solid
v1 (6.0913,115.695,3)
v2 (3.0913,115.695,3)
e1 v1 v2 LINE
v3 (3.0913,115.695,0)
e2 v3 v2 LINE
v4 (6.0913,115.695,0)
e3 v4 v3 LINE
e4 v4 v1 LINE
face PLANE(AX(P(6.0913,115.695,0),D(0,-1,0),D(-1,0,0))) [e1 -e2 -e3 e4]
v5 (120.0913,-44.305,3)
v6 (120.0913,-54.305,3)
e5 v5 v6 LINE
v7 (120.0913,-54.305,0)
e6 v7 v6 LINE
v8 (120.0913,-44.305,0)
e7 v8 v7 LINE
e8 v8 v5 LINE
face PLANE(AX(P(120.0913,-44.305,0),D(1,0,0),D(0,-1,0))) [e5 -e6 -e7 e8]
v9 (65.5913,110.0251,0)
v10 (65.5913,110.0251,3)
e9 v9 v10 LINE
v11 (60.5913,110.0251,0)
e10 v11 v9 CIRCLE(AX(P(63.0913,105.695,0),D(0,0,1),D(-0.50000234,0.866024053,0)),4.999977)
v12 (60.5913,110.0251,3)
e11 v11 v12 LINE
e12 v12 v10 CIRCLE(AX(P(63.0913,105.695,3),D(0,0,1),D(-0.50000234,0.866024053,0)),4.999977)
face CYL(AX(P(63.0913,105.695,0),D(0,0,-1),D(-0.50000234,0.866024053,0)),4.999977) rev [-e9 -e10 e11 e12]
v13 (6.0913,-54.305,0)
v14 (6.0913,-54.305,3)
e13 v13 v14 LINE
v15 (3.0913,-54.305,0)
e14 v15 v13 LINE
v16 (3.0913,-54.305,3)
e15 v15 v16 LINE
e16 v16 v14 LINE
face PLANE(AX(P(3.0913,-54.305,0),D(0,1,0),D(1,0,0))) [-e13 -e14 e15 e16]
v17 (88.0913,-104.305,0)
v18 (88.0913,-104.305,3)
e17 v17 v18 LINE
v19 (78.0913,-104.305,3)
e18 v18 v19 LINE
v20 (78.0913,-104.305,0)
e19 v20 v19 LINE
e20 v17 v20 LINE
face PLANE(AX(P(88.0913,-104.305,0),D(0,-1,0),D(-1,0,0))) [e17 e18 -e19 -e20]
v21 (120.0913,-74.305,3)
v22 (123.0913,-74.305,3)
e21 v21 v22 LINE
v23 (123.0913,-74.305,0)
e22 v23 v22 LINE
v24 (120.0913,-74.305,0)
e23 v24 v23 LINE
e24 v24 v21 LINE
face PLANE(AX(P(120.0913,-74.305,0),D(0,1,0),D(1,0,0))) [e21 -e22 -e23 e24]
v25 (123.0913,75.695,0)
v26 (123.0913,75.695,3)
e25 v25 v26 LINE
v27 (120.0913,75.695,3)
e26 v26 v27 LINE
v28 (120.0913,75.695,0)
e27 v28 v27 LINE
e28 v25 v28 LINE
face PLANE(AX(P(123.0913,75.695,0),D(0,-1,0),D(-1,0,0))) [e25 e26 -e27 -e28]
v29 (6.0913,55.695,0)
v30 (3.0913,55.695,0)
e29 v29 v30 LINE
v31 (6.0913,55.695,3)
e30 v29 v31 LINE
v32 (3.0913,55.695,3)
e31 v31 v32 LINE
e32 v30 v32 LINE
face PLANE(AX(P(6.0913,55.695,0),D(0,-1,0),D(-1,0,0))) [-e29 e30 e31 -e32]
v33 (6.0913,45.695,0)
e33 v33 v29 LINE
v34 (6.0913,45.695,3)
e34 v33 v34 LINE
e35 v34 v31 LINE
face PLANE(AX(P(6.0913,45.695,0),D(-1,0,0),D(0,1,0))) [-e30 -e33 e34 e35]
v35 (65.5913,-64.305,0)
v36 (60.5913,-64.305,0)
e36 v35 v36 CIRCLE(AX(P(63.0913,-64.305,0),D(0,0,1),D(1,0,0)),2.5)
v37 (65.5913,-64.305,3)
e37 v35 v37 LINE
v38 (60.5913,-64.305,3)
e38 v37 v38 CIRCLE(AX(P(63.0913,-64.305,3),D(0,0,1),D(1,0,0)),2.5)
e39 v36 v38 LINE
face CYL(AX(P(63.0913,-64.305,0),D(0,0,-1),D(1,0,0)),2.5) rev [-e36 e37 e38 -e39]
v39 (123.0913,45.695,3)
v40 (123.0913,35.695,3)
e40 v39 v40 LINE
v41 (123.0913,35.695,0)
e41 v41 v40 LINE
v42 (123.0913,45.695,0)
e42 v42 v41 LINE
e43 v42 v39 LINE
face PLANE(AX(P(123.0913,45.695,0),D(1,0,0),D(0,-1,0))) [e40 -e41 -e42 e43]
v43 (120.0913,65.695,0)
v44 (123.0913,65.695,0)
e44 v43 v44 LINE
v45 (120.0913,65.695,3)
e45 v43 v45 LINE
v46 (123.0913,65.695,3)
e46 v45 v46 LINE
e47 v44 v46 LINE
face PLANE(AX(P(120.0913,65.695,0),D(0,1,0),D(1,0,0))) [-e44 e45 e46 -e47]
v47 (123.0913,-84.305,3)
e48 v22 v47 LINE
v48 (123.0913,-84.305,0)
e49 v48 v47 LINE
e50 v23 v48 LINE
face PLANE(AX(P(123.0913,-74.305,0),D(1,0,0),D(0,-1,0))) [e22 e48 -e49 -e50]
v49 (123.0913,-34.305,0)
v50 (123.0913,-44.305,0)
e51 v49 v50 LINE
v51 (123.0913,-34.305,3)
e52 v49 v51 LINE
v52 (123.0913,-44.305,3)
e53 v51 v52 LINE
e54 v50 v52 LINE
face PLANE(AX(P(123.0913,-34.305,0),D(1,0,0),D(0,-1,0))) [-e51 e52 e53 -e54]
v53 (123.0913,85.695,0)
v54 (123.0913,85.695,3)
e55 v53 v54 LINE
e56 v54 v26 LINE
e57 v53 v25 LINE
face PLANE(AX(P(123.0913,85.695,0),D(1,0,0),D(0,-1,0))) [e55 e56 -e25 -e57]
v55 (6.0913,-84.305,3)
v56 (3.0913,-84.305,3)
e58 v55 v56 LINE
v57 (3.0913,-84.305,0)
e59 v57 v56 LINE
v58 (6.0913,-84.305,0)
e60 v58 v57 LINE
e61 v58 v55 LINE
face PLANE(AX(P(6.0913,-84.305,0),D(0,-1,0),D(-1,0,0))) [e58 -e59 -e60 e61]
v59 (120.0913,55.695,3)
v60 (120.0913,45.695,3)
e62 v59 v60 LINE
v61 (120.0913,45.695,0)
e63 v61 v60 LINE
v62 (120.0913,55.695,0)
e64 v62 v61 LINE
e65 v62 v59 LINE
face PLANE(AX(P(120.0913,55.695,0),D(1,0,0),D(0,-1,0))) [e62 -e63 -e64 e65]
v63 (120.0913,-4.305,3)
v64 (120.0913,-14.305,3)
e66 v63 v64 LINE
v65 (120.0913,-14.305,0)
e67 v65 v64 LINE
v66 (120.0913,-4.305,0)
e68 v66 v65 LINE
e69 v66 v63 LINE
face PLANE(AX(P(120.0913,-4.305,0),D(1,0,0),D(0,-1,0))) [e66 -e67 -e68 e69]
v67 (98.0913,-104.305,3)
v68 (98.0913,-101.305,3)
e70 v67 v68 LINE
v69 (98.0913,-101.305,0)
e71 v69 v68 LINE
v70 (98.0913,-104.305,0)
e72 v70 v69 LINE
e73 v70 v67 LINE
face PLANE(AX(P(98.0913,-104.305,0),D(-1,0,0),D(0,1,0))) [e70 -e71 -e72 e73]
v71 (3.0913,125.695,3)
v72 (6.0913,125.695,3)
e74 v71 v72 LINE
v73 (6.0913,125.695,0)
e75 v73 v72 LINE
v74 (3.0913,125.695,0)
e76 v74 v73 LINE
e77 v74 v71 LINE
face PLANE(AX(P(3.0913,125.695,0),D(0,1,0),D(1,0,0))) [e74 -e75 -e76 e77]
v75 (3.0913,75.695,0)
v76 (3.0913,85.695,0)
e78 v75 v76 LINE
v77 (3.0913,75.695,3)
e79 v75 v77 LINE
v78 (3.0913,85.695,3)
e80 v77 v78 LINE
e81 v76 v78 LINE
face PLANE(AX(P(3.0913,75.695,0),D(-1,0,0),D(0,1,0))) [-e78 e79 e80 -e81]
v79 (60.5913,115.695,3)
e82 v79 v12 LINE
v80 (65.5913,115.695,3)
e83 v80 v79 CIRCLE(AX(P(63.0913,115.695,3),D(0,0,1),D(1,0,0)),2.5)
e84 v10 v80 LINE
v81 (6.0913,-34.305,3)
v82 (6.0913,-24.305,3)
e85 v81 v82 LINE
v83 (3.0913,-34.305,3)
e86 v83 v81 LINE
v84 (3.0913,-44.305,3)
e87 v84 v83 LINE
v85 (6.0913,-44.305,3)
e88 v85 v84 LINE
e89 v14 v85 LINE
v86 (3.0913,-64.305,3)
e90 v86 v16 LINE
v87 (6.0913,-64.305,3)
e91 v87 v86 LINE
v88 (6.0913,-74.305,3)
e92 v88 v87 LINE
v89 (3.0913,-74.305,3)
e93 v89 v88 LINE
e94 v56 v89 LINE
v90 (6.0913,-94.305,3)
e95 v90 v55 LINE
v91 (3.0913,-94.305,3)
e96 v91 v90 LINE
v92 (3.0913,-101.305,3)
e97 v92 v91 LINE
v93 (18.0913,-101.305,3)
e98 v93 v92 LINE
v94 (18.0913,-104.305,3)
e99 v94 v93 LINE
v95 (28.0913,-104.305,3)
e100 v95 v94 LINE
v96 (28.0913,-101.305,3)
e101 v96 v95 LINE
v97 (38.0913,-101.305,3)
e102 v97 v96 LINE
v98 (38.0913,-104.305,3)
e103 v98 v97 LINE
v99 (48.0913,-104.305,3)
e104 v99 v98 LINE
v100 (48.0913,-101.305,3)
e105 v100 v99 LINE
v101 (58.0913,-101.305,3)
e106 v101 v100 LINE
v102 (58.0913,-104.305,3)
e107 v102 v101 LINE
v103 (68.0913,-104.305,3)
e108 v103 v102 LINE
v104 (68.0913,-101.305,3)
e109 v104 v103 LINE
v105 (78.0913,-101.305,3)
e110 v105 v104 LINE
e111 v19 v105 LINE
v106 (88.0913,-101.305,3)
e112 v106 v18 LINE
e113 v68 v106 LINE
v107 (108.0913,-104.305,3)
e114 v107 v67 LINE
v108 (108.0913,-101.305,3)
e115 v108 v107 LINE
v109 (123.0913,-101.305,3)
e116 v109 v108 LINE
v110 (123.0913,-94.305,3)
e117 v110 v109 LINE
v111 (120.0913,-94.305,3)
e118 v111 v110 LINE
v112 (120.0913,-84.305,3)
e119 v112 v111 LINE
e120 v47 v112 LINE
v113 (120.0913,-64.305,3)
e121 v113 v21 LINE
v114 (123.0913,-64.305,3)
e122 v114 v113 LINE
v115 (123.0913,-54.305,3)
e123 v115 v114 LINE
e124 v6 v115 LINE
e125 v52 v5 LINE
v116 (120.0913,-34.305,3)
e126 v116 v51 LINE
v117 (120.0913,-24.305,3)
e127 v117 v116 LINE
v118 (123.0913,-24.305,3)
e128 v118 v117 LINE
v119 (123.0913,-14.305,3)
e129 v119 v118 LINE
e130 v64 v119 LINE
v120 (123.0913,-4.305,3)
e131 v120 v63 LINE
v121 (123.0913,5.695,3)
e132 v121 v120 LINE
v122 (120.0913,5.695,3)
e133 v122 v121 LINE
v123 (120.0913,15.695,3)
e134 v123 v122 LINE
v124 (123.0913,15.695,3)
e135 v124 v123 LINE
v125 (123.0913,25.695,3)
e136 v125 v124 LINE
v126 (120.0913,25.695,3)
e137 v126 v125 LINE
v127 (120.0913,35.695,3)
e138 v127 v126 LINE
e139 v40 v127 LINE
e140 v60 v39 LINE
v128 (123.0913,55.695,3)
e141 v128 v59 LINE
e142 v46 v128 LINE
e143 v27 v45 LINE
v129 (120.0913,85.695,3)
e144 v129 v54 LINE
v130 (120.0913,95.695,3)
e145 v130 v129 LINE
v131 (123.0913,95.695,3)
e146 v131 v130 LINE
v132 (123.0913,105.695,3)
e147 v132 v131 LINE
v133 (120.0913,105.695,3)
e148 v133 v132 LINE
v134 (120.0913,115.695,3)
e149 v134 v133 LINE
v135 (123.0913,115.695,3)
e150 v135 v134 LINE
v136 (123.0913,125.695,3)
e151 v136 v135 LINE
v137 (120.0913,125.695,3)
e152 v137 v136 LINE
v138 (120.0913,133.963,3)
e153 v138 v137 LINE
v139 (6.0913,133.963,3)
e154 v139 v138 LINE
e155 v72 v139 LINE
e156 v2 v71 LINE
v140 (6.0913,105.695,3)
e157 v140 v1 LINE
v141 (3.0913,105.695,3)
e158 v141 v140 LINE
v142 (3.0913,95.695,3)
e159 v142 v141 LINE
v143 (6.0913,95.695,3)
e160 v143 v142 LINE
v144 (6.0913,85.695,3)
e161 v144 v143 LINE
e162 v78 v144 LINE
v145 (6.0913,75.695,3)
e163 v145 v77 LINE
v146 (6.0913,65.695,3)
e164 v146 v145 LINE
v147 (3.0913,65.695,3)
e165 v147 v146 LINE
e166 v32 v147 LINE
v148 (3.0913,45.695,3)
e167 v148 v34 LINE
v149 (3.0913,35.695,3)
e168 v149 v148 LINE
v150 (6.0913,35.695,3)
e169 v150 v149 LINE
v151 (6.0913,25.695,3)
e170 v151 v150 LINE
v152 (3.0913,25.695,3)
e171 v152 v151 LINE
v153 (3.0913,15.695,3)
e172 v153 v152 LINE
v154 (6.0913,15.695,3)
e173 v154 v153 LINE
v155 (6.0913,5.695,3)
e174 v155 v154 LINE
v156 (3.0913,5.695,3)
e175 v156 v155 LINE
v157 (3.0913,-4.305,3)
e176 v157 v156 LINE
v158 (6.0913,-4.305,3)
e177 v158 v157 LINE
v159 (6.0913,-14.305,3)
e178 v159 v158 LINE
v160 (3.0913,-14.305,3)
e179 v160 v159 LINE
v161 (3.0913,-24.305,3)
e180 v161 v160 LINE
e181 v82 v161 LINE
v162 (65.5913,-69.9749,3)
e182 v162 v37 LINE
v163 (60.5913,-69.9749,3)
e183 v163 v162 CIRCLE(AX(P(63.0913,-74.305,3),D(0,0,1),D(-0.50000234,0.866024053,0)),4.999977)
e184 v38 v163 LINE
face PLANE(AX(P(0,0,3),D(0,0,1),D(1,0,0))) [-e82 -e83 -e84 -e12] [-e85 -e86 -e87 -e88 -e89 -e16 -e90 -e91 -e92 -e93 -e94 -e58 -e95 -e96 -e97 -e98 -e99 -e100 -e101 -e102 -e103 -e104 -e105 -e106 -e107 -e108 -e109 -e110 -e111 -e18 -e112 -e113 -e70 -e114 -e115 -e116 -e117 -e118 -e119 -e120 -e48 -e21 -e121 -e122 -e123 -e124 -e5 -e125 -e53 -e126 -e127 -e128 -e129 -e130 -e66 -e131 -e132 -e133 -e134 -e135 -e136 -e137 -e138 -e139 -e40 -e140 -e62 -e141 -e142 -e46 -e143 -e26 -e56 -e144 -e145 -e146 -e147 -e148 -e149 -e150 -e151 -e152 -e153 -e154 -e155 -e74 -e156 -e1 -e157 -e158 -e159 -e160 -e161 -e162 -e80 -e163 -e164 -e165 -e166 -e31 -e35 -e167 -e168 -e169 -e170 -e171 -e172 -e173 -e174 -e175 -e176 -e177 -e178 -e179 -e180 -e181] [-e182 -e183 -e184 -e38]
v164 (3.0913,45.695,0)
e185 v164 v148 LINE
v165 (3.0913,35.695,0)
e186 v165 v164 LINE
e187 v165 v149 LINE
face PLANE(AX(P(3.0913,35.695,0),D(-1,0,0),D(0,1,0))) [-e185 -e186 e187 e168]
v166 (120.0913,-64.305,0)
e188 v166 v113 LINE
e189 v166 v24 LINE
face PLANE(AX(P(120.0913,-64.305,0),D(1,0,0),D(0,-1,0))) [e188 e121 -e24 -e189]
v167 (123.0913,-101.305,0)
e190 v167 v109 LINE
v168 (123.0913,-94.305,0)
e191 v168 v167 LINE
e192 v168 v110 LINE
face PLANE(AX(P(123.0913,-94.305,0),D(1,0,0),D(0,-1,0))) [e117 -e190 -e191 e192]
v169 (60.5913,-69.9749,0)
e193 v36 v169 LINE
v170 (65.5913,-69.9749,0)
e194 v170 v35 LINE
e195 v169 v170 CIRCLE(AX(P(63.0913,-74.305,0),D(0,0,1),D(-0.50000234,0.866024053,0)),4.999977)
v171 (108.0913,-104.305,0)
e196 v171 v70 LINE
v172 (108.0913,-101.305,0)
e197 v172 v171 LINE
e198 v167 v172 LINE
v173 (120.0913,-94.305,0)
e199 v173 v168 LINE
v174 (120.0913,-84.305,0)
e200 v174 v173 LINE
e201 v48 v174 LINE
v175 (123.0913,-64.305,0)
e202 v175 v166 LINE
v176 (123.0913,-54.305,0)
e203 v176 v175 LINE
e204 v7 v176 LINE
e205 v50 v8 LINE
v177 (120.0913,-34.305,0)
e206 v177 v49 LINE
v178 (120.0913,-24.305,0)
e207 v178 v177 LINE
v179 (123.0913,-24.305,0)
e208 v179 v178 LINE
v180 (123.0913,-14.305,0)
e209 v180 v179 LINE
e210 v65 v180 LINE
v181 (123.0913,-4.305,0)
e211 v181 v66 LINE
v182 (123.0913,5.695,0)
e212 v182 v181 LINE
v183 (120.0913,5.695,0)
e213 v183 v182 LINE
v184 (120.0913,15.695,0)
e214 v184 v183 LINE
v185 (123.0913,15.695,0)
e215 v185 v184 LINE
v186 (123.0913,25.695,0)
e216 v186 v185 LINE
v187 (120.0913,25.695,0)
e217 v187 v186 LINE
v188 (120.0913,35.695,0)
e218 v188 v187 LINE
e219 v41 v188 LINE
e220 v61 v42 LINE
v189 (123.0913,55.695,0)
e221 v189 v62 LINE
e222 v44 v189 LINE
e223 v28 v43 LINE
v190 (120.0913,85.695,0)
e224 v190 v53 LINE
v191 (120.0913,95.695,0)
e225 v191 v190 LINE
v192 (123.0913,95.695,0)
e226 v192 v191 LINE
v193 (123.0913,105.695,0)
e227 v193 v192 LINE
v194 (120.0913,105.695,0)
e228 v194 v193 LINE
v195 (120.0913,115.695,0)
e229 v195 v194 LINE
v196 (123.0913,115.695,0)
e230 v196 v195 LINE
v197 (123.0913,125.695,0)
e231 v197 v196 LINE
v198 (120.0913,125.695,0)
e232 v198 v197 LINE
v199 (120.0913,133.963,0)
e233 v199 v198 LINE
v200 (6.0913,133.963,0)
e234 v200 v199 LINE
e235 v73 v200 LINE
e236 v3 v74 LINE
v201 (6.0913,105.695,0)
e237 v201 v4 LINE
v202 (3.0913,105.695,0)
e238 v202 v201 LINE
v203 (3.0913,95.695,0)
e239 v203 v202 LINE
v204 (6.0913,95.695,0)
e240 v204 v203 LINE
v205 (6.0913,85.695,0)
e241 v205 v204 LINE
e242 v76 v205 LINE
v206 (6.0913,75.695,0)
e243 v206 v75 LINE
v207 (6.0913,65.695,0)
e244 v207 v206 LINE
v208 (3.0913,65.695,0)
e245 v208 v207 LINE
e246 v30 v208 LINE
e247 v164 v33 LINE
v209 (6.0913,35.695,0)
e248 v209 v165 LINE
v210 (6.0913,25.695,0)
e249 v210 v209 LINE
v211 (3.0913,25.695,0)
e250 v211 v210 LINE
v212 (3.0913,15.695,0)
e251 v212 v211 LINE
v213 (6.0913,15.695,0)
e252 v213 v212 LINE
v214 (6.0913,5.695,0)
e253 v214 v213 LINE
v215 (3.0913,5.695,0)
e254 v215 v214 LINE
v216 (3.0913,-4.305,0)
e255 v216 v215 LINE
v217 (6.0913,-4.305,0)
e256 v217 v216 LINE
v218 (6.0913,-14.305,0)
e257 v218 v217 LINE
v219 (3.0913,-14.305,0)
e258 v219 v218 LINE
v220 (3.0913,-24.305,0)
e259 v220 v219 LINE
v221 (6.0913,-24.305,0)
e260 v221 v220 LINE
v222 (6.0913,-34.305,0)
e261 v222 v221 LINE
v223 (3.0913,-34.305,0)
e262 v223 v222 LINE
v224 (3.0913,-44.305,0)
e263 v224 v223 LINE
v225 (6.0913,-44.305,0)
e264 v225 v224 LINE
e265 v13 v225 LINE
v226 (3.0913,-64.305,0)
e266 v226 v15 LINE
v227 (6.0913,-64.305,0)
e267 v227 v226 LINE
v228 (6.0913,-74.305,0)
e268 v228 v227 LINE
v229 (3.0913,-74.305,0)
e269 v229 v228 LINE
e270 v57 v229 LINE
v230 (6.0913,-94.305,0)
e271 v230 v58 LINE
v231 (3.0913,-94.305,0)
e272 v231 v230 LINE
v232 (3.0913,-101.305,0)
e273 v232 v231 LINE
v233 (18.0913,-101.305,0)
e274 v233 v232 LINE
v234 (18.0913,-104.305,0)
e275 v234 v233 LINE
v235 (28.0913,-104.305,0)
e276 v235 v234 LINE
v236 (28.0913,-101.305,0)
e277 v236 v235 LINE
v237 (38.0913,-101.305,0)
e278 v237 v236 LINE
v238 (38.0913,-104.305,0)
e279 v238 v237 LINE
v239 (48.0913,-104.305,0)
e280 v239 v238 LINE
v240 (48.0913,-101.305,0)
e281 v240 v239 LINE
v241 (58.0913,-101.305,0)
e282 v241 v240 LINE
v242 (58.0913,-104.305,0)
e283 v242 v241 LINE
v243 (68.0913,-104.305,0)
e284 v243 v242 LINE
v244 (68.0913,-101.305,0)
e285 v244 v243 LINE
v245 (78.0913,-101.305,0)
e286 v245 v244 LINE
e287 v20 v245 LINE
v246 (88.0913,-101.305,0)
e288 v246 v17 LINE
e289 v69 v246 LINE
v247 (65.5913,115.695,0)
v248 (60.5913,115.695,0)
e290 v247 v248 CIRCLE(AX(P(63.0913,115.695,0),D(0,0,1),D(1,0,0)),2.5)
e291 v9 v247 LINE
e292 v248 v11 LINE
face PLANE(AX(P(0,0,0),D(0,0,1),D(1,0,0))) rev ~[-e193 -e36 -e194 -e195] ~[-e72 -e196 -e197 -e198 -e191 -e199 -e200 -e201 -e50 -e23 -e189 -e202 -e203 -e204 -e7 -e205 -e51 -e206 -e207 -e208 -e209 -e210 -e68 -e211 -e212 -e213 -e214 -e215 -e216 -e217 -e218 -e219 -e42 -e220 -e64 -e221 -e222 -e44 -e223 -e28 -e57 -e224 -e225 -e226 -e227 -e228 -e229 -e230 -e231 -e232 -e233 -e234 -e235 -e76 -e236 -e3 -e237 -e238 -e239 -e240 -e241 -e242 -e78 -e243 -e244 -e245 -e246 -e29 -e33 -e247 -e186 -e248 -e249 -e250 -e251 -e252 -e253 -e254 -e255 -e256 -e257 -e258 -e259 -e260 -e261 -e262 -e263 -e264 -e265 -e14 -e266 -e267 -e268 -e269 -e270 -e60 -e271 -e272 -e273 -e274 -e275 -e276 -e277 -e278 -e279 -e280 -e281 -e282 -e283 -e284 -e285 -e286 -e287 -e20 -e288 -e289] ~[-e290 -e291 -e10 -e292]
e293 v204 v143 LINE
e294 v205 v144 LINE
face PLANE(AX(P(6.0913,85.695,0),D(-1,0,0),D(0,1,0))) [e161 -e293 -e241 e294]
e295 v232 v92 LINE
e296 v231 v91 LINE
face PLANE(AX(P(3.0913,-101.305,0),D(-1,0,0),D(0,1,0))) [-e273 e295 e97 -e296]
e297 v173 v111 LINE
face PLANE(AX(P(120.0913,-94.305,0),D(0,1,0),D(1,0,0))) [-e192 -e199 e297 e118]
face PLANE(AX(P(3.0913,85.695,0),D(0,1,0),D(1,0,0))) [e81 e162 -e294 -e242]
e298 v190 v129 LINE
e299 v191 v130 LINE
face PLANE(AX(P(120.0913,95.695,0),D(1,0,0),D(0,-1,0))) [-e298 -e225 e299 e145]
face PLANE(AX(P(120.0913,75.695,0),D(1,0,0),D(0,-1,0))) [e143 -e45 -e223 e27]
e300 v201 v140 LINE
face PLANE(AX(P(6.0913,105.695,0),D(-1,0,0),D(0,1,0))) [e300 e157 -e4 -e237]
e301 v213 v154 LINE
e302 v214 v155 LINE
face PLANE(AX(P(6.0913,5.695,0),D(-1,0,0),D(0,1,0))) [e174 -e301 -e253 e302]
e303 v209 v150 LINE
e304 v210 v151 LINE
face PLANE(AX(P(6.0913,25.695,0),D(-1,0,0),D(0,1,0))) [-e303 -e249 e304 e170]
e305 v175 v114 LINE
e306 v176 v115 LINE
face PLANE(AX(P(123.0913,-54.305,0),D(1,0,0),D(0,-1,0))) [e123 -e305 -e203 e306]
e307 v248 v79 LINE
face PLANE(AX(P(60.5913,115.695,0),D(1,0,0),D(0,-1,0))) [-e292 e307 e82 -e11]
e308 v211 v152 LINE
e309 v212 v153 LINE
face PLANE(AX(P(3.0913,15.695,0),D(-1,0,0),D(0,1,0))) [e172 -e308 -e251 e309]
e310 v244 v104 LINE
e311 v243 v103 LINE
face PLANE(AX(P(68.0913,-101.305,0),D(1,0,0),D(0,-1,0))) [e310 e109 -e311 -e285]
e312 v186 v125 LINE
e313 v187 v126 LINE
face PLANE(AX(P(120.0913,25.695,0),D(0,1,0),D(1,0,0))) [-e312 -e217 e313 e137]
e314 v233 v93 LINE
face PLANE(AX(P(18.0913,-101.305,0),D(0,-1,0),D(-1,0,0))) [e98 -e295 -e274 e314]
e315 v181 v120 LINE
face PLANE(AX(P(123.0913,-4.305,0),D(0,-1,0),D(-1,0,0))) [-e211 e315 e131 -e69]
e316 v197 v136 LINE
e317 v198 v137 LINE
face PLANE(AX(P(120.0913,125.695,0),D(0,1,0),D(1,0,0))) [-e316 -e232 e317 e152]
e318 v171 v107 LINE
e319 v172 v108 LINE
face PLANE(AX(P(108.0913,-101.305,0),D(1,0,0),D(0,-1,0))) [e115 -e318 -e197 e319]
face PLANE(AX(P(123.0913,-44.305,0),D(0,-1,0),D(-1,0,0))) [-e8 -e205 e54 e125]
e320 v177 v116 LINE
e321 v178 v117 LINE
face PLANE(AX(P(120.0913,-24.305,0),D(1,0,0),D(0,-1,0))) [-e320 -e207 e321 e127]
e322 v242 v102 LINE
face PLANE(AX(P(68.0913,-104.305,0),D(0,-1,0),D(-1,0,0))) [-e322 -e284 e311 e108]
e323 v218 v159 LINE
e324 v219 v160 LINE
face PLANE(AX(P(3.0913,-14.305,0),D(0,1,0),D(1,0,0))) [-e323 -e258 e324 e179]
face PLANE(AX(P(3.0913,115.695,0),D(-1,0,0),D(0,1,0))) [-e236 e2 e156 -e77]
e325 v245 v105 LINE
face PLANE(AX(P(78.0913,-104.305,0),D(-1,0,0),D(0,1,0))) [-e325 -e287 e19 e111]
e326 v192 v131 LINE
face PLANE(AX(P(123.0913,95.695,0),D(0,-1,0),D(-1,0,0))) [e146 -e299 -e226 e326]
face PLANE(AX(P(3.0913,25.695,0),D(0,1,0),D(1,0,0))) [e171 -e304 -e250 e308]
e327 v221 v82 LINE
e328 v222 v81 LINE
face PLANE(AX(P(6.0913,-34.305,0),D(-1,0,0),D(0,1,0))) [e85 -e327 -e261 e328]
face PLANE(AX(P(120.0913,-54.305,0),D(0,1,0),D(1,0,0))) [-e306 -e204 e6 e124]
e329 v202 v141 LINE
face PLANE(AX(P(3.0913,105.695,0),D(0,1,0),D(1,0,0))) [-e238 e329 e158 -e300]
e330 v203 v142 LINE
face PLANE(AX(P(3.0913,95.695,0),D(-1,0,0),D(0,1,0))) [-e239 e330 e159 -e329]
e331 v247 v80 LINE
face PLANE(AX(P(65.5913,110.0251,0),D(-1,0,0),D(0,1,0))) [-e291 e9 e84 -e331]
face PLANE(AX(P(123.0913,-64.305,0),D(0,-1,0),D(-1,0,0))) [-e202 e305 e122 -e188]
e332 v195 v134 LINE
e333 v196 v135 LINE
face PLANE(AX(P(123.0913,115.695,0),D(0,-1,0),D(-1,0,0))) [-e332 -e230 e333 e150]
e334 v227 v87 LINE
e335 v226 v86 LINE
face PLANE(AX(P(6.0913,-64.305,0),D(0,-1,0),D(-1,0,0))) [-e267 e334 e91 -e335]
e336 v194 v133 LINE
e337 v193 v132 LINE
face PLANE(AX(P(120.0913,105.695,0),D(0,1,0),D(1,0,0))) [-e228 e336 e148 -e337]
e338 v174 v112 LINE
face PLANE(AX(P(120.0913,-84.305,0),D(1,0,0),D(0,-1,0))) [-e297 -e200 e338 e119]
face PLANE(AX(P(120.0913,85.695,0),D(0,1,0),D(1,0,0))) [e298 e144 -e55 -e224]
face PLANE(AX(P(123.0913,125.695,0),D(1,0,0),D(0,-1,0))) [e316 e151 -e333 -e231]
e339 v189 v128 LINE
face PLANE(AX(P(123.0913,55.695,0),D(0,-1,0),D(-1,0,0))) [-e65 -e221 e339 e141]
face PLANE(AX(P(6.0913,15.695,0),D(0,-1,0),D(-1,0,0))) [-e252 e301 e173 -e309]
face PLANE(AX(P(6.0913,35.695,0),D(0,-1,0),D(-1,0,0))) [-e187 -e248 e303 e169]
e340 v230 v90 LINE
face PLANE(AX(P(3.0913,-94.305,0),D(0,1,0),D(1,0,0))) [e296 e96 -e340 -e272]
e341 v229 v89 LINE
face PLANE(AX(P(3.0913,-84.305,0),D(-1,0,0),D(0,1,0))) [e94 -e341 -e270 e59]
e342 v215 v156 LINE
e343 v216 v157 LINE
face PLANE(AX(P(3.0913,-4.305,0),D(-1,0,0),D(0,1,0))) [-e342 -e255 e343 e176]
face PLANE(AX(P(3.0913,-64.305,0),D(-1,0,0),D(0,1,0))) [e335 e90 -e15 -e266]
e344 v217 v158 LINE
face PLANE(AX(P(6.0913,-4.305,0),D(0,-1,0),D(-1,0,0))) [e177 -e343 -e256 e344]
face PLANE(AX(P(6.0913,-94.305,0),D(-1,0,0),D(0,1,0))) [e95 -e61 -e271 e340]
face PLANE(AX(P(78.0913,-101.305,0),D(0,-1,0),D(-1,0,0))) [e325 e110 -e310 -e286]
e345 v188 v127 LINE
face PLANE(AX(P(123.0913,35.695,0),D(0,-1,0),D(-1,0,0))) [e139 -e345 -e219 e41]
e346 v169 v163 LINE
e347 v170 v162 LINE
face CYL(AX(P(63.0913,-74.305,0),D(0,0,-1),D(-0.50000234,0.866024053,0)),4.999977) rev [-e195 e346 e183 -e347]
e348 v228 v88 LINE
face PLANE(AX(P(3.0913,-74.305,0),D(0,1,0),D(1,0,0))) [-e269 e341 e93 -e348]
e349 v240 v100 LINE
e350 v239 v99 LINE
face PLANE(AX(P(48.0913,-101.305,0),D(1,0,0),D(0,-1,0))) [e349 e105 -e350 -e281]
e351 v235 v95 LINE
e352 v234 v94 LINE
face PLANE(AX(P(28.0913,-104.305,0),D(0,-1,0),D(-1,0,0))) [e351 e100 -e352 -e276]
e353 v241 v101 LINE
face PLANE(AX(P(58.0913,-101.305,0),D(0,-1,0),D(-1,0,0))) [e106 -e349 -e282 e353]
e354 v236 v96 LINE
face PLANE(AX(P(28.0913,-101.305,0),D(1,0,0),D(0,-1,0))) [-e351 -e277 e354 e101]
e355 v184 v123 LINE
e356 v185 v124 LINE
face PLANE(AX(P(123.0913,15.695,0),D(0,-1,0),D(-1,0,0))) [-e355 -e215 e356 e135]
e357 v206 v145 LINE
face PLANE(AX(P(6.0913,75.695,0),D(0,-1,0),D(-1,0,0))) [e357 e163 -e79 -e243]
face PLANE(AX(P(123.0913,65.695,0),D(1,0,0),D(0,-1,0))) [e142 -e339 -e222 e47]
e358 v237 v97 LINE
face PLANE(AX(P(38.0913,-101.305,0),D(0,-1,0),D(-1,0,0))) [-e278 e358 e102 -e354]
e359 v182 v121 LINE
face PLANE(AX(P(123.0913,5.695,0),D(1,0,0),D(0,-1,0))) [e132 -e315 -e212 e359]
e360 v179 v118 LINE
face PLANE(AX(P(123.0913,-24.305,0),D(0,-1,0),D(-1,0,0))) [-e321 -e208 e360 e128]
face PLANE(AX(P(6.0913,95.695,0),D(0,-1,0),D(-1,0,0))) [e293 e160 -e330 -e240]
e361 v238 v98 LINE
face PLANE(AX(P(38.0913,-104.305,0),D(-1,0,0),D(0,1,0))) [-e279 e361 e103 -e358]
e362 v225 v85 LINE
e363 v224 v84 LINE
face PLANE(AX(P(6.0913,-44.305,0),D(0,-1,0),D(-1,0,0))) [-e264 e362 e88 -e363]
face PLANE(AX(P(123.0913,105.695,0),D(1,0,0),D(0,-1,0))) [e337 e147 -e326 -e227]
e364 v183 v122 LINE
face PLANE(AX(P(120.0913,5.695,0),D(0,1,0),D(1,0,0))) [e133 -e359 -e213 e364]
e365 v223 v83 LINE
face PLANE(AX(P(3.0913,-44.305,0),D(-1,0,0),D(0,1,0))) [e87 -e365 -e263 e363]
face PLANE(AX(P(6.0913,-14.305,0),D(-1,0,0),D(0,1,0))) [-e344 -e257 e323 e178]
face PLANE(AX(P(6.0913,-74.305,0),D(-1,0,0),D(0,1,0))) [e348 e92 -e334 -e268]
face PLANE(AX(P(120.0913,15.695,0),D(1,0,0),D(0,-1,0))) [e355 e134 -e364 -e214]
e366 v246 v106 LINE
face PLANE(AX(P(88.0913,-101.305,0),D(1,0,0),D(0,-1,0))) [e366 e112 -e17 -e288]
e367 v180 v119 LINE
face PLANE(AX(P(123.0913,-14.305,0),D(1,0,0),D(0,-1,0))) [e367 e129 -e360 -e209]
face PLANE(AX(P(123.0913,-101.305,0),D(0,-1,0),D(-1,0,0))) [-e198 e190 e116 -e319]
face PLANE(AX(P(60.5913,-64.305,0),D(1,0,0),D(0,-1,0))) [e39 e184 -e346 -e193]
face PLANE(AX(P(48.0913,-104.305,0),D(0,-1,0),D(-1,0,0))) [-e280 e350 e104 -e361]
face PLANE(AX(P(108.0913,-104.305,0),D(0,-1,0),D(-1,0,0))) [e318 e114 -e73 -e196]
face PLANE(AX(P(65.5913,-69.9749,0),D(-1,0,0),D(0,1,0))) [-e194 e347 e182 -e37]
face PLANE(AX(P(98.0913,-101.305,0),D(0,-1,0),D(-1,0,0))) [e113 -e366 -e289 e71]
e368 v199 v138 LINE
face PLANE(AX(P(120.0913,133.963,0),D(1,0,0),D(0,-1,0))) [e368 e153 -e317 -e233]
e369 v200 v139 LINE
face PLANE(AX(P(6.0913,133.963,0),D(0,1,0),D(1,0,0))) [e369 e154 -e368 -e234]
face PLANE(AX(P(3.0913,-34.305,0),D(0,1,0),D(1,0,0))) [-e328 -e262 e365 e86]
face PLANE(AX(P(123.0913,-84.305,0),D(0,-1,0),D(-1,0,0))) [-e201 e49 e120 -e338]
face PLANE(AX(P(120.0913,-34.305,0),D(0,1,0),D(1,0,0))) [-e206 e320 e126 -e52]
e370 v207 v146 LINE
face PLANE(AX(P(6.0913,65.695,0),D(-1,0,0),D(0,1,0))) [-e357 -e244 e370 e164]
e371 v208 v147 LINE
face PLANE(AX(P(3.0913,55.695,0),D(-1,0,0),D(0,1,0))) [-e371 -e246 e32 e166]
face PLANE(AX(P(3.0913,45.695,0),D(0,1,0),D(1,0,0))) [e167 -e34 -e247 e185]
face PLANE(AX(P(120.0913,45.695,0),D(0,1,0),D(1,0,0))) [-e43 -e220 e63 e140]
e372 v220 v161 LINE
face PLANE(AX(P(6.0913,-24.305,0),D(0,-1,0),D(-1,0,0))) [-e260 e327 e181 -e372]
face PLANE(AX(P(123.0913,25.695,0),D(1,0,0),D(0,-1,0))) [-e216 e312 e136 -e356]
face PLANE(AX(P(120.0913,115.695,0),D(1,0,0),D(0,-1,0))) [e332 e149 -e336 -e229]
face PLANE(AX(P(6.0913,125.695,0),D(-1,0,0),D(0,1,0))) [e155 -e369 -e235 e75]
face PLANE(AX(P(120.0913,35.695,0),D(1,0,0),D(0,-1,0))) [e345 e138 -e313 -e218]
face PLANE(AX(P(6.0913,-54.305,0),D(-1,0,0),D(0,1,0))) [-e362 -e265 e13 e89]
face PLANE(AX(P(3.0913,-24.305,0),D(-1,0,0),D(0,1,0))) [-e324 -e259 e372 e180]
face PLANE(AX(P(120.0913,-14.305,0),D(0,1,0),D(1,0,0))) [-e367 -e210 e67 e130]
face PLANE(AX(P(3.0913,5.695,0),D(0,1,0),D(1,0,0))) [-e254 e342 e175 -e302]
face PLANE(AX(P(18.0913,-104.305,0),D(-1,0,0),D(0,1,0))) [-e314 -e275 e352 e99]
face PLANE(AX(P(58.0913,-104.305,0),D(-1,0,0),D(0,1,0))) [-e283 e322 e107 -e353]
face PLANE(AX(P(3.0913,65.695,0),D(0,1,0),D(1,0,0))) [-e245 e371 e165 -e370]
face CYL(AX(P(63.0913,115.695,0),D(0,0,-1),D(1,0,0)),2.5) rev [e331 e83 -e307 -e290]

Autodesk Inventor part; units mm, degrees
ref_plane "YZ Plane" through (0, 0, 0) normal (1, 0, 0) x (0, 1, 0)
ref_plane "XZ Plane" through (0, 0, 0) normal (0, 1, 0) x (-1, 0, 0)
ref_plane "XY Plane" through (0, 0, 0) normal (0, 0, 1) x (1, 0, 0)
sketch "Esquisse1" plane through (0, 0, 0) normal (0, 0, 1) x (1, 0, 0)
  arc A0 (65.5913, 115.695) -> (60.5913, 115.695) centre (63.0913, 115.695) ccw
  line L0 (60.5913, 115.695) -> (60.5913, 110.0251)
  arc A1 (60.5913, 110.0251) -> (65.5913, 110.0251) centre (63.0913, 105.695) ccw
  line L1 (65.5913, 110.0251) -> (65.5913, 115.695)
  arc A2 (65.5913, -64.305) -> (60.5913, -64.305) centre (63.0913, -64.305) ccw
  line L2 (60.5913, -64.305) -> (60.5913, -69.9749)
  arc A3 (60.5913, -69.9749) -> (65.5913, -69.9749) centre (63.0913, -74.305) ccw
  line L3 (65.5913, -69.9749) -> (65.5913, -64.305)
  line L4 (28.0913, -101.305) -> (28.0913, -104.305)
  line L5 (28.0913, -104.305) -> (18.0913, -104.305)
  line L6 (18.0913, -104.305) -> (18.0913, -101.305)
  line L7 (18.0913, -101.305) -> (3.0913, -101.305)
  line L8 (3.0913, -101.305) -> (3.0913, -94.305)
  line L9 (3.0913, -94.305) -> (6.0913, -94.305)
  line L10 (6.0913, -94.305) -> (6.0913, -84.305)
  line L11 (6.0913, -84.305) -> (3.0913, -84.305)
  line L12 (3.0913, -84.305) -> (3.0913, -74.305)
  line L13 (3.0913, -74.305) -> (6.0913, -74.305)
  line L14 (6.0913, -74.305) -> (6.0913, -64.305)
  line L15 (6.0913, -64.305) -> (3.0913, -64.305)
  line L16 (3.0913, -64.305) -> (3.0913, -54.305)
  line L17 (3.0913, -54.305) -> (6.0913, -54.305)
  line L18 (6.0913, -54.305) -> (6.0913, -44.305)
  line L19 (6.0913, -44.305) -> (3.0913, -44.305)
  line L20 (3.0913, -44.305) -> (3.0913, -34.305)
  line L21 (3.0913, -34.305) -> (6.0913, -34.305)
  line L22 (6.0913, -34.305) -> (6.0913, -24.305)
  line L23 (6.0913, -24.305) -> (3.0913, -24.305)
  line L24 (3.0913, -24.305) -> (3.0913, -14.305)
  line L25 (3.0913, -14.305) -> (6.0913, -14.305)
  line L26 (6.0913, -14.305) -> (6.0913, -4.305)
  line L27 (6.0913, -4.305) -> (3.0913, -4.305)
  line L28 (3.0913, -4.305) -> (3.0913, 5.695)
  line L29 (3.0913, 5.695) -> (6.0913, 5.695)
  line L30 (6.0913, 5.695) -> (6.0913, 15.695)
  line L31 (6.0913, 15.695) -> (3.0913, 15.695)
  line L32 (3.0913, 15.695) -> (3.0913, 25.695)
  line L33 (3.0913, 25.695) -> (6.0913, 25.695)
  line L34 (6.0913, 25.695) -> (6.0913, 35.695)
  line L35 (6.0913, 35.695) -> (3.0913, 35.695)
  line L36 (3.0913, 35.695) -> (3.0913, 45.695)
  line L37 (3.0913, 45.695) -> (6.0913, 45.695)
  line L38 (6.0913, 45.695) -> (6.0913, 55.695)
  line L39 (6.0913, 55.695) -> (3.0913, 55.695)
  line L40 (3.0913, 55.695) -> (3.0913, 65.695)
  line L41 (3.0913, 65.695) -> (6.0913, 65.695)
  line L42 (6.0913, 65.695) -> (6.0913, 75.695)
  line L43 (6.0913, 75.695) -> (3.0913, 75.695)
  line L44 (3.0913, 75.695) -> (3.0913, 85.695)
  line L45 (3.0913, 85.695) -> (6.0913, 85.695)
  line L46 (6.0913, 85.695) -> (6.0913, 95.695)
  line L47 (6.0913, 95.695) -> (3.0913, 95.695)
  line L48 (3.0913, 95.695) -> (3.0913, 105.695)
  line L49 (3.0913, 105.695) -> (6.0913, 105.695)
  line L50 (6.0913, 105.695) -> (6.0913, 115.695)
  line L51 (6.0913, 115.695) -> (3.0913, 115.695)
  line L52 (3.0913, 115.695) -> (3.0913, 125.695)
  line L53 (3.0913, 125.695) -> (6.0913, 125.695)
  line L54 (6.0913, 125.695) -> (6.0913, 133.963)
  line L55 (6.0913, 133.963) -> (120.0913, 133.963)
  line L56 (120.0913, 133.963) -> (120.0913, 125.695)
  line L57 (120.0913, 125.695) -> (123.0913, 125.695)
  line L58 (123.0913, 125.695) -> (123.0913, 115.695)
  line L59 (123.0913, 115.695) -> (120.0913, 115.695)
  line L60 (120.0913, 115.695) -> (120.0913, 105.695)
  line L61 (120.0913, 105.695) -> (123.0913, 105.695)
  line L62 (123.0913, 105.695) -> (123.0913, 95.695)
  line L63 (123.0913, 95.695) -> (120.0913, 95.695)
  line L64 (120.0913, 95.695) -> (120.0913, 85.695)
  line L65 (120.0913, 85.695) -> (123.0913, 85.695)
  line L66 (123.0913, 85.695) -> (123.0913, 75.695)
  line L67 (123.0913, 75.695) -> (120.0913, 75.695)
  line L68 (120.0913, 75.695) -> (120.0913, 65.695)
  line L69 (120.0913, 65.695) -> (123.0913, 65.695)
  line L70 (123.0913, 65.695) -> (123.0913, 55.695)
  line L71 (123.0913, 55.695) -> (120.0913, 55.695)
  line L72 (120.0913, 55.695) -> (120.0913, 45.695)
  line L73 (120.0913, 45.695) -> (123.0913, 45.695)
  line L74 (123.0913, 45.695) -> (123.0913, 35.695)
  line L75 (123.0913, 35.695) -> (120.0913, 35.695)
  line L76 (120.0913, 35.695) -> (120.0913, 25.695)
  line L77 (120.0913, 25.695) -> (123.0913, 25.695)
  line L78 (123.0913, 25.695) -> (123.0913, 15.695)
  line L79 (123.0913, 15.695) -> (120.0913, 15.695)
  line L80 (120.0913, 15.695) -> (120.0913, 5.695)
  line L81 (120.0913, 5.695) -> (123.0913, 5.695)
  line L82 (123.0913, 5.695) -> (123.0913, -4.305)
  line L83 (123.0913, -4.305) -> (120.0913, -4.305)
  line L84 (120.0913, -4.305) -> (120.0913, -14.305)
  line L85 (120.0913, -14.305) -> (123.0913, -14.305)
  line L86 (123.0913, -14.305) -> (123.0913, -24.305)
  line L87 (123.0913, -24.305) -> (120.0913, -24.305)
  line L88 (120.0913, -24.305) -> (120.0913, -34.305)
  line L89 (120.0913, -34.305) -> (123.0913, -34.305)
  line L90 (123.0913, -34.305) -> (123.0913, -44.305)
  line L91 (123.0913, -44.305) -> (120.0913, -44.305)
  line L92 (120.0913, -44.305) -> (120.0913, -54.305)
  line L93 (120.0913, -54.305) -> (123.0913, -54.305)
  line L94 (123.0913, -54.305) -> (123.0913, -64.305)
  line L95 (123.0913, -64.305) -> (120.0913, -64.305)
  line L96 (120.0913, -64.305) -> (120.0913, -74.305)
  line L97 (120.0913, -74.305) -> (123.0913, -74.305)
  line L98 (123.0913, -74.305) -> (123.0913, -84.305)
  line L99 (123.0913, -84.305) -> (120.0913, -84.305)
  line L100 (120.0913, -84.305) -> (120.0913, -94.305)
  line L101 (120.0913, -94.305) -> (123.0913, -94.305)
  line L102 (123.0913, -94.305) -> (123.0913, -101.305)
  line L103 (123.0913, -101.305) -> (108.0913, -101.305)
  line L104 (108.0913, -101.305) -> (108.0913, -104.305)
  line L105 (108.0913, -104.305) -> (98.0913, -104.305)
  line L106 (98.0913, -104.305) -> (98.0913, -101.305)
  line L107 (98.0913, -101.305) -> (88.0913, -101.305)
  line L108 (88.0913, -101.305) -> (88.0913, -104.305)
  line L109 (88.0913, -104.305) -> (78.0913, -104.305)
  line L110 (78.0913, -104.305) -> (78.0913, -101.305)
  line L111 (78.0913, -101.305) -> (68.0913, -101.305)
  line L112 (68.0913, -101.305) -> (68.0913, -104.305)
  line L113 (68.0913, -104.305) -> (58.0913, -104.305)
  line L114 (58.0913, -104.305) -> (58.0913, -101.305)
  line L115 (58.0913, -101.305) -> (48.0913, -101.305)
  line L116 (48.0913, -101.305) -> (48.0913, -104.305)
  line L117 (48.0913, -104.305) -> (38.0913, -104.305)
  line L118 (38.0913, -104.305) -> (38.0913, -101.305)
  line L119 (38.0913, -101.305) -> (28.0913, -101.305)
  point P0 (0, 0)
extrude "Extrusion1" add sketch "Esquisse1" along normal blind 3
properties part number "Arriere"
